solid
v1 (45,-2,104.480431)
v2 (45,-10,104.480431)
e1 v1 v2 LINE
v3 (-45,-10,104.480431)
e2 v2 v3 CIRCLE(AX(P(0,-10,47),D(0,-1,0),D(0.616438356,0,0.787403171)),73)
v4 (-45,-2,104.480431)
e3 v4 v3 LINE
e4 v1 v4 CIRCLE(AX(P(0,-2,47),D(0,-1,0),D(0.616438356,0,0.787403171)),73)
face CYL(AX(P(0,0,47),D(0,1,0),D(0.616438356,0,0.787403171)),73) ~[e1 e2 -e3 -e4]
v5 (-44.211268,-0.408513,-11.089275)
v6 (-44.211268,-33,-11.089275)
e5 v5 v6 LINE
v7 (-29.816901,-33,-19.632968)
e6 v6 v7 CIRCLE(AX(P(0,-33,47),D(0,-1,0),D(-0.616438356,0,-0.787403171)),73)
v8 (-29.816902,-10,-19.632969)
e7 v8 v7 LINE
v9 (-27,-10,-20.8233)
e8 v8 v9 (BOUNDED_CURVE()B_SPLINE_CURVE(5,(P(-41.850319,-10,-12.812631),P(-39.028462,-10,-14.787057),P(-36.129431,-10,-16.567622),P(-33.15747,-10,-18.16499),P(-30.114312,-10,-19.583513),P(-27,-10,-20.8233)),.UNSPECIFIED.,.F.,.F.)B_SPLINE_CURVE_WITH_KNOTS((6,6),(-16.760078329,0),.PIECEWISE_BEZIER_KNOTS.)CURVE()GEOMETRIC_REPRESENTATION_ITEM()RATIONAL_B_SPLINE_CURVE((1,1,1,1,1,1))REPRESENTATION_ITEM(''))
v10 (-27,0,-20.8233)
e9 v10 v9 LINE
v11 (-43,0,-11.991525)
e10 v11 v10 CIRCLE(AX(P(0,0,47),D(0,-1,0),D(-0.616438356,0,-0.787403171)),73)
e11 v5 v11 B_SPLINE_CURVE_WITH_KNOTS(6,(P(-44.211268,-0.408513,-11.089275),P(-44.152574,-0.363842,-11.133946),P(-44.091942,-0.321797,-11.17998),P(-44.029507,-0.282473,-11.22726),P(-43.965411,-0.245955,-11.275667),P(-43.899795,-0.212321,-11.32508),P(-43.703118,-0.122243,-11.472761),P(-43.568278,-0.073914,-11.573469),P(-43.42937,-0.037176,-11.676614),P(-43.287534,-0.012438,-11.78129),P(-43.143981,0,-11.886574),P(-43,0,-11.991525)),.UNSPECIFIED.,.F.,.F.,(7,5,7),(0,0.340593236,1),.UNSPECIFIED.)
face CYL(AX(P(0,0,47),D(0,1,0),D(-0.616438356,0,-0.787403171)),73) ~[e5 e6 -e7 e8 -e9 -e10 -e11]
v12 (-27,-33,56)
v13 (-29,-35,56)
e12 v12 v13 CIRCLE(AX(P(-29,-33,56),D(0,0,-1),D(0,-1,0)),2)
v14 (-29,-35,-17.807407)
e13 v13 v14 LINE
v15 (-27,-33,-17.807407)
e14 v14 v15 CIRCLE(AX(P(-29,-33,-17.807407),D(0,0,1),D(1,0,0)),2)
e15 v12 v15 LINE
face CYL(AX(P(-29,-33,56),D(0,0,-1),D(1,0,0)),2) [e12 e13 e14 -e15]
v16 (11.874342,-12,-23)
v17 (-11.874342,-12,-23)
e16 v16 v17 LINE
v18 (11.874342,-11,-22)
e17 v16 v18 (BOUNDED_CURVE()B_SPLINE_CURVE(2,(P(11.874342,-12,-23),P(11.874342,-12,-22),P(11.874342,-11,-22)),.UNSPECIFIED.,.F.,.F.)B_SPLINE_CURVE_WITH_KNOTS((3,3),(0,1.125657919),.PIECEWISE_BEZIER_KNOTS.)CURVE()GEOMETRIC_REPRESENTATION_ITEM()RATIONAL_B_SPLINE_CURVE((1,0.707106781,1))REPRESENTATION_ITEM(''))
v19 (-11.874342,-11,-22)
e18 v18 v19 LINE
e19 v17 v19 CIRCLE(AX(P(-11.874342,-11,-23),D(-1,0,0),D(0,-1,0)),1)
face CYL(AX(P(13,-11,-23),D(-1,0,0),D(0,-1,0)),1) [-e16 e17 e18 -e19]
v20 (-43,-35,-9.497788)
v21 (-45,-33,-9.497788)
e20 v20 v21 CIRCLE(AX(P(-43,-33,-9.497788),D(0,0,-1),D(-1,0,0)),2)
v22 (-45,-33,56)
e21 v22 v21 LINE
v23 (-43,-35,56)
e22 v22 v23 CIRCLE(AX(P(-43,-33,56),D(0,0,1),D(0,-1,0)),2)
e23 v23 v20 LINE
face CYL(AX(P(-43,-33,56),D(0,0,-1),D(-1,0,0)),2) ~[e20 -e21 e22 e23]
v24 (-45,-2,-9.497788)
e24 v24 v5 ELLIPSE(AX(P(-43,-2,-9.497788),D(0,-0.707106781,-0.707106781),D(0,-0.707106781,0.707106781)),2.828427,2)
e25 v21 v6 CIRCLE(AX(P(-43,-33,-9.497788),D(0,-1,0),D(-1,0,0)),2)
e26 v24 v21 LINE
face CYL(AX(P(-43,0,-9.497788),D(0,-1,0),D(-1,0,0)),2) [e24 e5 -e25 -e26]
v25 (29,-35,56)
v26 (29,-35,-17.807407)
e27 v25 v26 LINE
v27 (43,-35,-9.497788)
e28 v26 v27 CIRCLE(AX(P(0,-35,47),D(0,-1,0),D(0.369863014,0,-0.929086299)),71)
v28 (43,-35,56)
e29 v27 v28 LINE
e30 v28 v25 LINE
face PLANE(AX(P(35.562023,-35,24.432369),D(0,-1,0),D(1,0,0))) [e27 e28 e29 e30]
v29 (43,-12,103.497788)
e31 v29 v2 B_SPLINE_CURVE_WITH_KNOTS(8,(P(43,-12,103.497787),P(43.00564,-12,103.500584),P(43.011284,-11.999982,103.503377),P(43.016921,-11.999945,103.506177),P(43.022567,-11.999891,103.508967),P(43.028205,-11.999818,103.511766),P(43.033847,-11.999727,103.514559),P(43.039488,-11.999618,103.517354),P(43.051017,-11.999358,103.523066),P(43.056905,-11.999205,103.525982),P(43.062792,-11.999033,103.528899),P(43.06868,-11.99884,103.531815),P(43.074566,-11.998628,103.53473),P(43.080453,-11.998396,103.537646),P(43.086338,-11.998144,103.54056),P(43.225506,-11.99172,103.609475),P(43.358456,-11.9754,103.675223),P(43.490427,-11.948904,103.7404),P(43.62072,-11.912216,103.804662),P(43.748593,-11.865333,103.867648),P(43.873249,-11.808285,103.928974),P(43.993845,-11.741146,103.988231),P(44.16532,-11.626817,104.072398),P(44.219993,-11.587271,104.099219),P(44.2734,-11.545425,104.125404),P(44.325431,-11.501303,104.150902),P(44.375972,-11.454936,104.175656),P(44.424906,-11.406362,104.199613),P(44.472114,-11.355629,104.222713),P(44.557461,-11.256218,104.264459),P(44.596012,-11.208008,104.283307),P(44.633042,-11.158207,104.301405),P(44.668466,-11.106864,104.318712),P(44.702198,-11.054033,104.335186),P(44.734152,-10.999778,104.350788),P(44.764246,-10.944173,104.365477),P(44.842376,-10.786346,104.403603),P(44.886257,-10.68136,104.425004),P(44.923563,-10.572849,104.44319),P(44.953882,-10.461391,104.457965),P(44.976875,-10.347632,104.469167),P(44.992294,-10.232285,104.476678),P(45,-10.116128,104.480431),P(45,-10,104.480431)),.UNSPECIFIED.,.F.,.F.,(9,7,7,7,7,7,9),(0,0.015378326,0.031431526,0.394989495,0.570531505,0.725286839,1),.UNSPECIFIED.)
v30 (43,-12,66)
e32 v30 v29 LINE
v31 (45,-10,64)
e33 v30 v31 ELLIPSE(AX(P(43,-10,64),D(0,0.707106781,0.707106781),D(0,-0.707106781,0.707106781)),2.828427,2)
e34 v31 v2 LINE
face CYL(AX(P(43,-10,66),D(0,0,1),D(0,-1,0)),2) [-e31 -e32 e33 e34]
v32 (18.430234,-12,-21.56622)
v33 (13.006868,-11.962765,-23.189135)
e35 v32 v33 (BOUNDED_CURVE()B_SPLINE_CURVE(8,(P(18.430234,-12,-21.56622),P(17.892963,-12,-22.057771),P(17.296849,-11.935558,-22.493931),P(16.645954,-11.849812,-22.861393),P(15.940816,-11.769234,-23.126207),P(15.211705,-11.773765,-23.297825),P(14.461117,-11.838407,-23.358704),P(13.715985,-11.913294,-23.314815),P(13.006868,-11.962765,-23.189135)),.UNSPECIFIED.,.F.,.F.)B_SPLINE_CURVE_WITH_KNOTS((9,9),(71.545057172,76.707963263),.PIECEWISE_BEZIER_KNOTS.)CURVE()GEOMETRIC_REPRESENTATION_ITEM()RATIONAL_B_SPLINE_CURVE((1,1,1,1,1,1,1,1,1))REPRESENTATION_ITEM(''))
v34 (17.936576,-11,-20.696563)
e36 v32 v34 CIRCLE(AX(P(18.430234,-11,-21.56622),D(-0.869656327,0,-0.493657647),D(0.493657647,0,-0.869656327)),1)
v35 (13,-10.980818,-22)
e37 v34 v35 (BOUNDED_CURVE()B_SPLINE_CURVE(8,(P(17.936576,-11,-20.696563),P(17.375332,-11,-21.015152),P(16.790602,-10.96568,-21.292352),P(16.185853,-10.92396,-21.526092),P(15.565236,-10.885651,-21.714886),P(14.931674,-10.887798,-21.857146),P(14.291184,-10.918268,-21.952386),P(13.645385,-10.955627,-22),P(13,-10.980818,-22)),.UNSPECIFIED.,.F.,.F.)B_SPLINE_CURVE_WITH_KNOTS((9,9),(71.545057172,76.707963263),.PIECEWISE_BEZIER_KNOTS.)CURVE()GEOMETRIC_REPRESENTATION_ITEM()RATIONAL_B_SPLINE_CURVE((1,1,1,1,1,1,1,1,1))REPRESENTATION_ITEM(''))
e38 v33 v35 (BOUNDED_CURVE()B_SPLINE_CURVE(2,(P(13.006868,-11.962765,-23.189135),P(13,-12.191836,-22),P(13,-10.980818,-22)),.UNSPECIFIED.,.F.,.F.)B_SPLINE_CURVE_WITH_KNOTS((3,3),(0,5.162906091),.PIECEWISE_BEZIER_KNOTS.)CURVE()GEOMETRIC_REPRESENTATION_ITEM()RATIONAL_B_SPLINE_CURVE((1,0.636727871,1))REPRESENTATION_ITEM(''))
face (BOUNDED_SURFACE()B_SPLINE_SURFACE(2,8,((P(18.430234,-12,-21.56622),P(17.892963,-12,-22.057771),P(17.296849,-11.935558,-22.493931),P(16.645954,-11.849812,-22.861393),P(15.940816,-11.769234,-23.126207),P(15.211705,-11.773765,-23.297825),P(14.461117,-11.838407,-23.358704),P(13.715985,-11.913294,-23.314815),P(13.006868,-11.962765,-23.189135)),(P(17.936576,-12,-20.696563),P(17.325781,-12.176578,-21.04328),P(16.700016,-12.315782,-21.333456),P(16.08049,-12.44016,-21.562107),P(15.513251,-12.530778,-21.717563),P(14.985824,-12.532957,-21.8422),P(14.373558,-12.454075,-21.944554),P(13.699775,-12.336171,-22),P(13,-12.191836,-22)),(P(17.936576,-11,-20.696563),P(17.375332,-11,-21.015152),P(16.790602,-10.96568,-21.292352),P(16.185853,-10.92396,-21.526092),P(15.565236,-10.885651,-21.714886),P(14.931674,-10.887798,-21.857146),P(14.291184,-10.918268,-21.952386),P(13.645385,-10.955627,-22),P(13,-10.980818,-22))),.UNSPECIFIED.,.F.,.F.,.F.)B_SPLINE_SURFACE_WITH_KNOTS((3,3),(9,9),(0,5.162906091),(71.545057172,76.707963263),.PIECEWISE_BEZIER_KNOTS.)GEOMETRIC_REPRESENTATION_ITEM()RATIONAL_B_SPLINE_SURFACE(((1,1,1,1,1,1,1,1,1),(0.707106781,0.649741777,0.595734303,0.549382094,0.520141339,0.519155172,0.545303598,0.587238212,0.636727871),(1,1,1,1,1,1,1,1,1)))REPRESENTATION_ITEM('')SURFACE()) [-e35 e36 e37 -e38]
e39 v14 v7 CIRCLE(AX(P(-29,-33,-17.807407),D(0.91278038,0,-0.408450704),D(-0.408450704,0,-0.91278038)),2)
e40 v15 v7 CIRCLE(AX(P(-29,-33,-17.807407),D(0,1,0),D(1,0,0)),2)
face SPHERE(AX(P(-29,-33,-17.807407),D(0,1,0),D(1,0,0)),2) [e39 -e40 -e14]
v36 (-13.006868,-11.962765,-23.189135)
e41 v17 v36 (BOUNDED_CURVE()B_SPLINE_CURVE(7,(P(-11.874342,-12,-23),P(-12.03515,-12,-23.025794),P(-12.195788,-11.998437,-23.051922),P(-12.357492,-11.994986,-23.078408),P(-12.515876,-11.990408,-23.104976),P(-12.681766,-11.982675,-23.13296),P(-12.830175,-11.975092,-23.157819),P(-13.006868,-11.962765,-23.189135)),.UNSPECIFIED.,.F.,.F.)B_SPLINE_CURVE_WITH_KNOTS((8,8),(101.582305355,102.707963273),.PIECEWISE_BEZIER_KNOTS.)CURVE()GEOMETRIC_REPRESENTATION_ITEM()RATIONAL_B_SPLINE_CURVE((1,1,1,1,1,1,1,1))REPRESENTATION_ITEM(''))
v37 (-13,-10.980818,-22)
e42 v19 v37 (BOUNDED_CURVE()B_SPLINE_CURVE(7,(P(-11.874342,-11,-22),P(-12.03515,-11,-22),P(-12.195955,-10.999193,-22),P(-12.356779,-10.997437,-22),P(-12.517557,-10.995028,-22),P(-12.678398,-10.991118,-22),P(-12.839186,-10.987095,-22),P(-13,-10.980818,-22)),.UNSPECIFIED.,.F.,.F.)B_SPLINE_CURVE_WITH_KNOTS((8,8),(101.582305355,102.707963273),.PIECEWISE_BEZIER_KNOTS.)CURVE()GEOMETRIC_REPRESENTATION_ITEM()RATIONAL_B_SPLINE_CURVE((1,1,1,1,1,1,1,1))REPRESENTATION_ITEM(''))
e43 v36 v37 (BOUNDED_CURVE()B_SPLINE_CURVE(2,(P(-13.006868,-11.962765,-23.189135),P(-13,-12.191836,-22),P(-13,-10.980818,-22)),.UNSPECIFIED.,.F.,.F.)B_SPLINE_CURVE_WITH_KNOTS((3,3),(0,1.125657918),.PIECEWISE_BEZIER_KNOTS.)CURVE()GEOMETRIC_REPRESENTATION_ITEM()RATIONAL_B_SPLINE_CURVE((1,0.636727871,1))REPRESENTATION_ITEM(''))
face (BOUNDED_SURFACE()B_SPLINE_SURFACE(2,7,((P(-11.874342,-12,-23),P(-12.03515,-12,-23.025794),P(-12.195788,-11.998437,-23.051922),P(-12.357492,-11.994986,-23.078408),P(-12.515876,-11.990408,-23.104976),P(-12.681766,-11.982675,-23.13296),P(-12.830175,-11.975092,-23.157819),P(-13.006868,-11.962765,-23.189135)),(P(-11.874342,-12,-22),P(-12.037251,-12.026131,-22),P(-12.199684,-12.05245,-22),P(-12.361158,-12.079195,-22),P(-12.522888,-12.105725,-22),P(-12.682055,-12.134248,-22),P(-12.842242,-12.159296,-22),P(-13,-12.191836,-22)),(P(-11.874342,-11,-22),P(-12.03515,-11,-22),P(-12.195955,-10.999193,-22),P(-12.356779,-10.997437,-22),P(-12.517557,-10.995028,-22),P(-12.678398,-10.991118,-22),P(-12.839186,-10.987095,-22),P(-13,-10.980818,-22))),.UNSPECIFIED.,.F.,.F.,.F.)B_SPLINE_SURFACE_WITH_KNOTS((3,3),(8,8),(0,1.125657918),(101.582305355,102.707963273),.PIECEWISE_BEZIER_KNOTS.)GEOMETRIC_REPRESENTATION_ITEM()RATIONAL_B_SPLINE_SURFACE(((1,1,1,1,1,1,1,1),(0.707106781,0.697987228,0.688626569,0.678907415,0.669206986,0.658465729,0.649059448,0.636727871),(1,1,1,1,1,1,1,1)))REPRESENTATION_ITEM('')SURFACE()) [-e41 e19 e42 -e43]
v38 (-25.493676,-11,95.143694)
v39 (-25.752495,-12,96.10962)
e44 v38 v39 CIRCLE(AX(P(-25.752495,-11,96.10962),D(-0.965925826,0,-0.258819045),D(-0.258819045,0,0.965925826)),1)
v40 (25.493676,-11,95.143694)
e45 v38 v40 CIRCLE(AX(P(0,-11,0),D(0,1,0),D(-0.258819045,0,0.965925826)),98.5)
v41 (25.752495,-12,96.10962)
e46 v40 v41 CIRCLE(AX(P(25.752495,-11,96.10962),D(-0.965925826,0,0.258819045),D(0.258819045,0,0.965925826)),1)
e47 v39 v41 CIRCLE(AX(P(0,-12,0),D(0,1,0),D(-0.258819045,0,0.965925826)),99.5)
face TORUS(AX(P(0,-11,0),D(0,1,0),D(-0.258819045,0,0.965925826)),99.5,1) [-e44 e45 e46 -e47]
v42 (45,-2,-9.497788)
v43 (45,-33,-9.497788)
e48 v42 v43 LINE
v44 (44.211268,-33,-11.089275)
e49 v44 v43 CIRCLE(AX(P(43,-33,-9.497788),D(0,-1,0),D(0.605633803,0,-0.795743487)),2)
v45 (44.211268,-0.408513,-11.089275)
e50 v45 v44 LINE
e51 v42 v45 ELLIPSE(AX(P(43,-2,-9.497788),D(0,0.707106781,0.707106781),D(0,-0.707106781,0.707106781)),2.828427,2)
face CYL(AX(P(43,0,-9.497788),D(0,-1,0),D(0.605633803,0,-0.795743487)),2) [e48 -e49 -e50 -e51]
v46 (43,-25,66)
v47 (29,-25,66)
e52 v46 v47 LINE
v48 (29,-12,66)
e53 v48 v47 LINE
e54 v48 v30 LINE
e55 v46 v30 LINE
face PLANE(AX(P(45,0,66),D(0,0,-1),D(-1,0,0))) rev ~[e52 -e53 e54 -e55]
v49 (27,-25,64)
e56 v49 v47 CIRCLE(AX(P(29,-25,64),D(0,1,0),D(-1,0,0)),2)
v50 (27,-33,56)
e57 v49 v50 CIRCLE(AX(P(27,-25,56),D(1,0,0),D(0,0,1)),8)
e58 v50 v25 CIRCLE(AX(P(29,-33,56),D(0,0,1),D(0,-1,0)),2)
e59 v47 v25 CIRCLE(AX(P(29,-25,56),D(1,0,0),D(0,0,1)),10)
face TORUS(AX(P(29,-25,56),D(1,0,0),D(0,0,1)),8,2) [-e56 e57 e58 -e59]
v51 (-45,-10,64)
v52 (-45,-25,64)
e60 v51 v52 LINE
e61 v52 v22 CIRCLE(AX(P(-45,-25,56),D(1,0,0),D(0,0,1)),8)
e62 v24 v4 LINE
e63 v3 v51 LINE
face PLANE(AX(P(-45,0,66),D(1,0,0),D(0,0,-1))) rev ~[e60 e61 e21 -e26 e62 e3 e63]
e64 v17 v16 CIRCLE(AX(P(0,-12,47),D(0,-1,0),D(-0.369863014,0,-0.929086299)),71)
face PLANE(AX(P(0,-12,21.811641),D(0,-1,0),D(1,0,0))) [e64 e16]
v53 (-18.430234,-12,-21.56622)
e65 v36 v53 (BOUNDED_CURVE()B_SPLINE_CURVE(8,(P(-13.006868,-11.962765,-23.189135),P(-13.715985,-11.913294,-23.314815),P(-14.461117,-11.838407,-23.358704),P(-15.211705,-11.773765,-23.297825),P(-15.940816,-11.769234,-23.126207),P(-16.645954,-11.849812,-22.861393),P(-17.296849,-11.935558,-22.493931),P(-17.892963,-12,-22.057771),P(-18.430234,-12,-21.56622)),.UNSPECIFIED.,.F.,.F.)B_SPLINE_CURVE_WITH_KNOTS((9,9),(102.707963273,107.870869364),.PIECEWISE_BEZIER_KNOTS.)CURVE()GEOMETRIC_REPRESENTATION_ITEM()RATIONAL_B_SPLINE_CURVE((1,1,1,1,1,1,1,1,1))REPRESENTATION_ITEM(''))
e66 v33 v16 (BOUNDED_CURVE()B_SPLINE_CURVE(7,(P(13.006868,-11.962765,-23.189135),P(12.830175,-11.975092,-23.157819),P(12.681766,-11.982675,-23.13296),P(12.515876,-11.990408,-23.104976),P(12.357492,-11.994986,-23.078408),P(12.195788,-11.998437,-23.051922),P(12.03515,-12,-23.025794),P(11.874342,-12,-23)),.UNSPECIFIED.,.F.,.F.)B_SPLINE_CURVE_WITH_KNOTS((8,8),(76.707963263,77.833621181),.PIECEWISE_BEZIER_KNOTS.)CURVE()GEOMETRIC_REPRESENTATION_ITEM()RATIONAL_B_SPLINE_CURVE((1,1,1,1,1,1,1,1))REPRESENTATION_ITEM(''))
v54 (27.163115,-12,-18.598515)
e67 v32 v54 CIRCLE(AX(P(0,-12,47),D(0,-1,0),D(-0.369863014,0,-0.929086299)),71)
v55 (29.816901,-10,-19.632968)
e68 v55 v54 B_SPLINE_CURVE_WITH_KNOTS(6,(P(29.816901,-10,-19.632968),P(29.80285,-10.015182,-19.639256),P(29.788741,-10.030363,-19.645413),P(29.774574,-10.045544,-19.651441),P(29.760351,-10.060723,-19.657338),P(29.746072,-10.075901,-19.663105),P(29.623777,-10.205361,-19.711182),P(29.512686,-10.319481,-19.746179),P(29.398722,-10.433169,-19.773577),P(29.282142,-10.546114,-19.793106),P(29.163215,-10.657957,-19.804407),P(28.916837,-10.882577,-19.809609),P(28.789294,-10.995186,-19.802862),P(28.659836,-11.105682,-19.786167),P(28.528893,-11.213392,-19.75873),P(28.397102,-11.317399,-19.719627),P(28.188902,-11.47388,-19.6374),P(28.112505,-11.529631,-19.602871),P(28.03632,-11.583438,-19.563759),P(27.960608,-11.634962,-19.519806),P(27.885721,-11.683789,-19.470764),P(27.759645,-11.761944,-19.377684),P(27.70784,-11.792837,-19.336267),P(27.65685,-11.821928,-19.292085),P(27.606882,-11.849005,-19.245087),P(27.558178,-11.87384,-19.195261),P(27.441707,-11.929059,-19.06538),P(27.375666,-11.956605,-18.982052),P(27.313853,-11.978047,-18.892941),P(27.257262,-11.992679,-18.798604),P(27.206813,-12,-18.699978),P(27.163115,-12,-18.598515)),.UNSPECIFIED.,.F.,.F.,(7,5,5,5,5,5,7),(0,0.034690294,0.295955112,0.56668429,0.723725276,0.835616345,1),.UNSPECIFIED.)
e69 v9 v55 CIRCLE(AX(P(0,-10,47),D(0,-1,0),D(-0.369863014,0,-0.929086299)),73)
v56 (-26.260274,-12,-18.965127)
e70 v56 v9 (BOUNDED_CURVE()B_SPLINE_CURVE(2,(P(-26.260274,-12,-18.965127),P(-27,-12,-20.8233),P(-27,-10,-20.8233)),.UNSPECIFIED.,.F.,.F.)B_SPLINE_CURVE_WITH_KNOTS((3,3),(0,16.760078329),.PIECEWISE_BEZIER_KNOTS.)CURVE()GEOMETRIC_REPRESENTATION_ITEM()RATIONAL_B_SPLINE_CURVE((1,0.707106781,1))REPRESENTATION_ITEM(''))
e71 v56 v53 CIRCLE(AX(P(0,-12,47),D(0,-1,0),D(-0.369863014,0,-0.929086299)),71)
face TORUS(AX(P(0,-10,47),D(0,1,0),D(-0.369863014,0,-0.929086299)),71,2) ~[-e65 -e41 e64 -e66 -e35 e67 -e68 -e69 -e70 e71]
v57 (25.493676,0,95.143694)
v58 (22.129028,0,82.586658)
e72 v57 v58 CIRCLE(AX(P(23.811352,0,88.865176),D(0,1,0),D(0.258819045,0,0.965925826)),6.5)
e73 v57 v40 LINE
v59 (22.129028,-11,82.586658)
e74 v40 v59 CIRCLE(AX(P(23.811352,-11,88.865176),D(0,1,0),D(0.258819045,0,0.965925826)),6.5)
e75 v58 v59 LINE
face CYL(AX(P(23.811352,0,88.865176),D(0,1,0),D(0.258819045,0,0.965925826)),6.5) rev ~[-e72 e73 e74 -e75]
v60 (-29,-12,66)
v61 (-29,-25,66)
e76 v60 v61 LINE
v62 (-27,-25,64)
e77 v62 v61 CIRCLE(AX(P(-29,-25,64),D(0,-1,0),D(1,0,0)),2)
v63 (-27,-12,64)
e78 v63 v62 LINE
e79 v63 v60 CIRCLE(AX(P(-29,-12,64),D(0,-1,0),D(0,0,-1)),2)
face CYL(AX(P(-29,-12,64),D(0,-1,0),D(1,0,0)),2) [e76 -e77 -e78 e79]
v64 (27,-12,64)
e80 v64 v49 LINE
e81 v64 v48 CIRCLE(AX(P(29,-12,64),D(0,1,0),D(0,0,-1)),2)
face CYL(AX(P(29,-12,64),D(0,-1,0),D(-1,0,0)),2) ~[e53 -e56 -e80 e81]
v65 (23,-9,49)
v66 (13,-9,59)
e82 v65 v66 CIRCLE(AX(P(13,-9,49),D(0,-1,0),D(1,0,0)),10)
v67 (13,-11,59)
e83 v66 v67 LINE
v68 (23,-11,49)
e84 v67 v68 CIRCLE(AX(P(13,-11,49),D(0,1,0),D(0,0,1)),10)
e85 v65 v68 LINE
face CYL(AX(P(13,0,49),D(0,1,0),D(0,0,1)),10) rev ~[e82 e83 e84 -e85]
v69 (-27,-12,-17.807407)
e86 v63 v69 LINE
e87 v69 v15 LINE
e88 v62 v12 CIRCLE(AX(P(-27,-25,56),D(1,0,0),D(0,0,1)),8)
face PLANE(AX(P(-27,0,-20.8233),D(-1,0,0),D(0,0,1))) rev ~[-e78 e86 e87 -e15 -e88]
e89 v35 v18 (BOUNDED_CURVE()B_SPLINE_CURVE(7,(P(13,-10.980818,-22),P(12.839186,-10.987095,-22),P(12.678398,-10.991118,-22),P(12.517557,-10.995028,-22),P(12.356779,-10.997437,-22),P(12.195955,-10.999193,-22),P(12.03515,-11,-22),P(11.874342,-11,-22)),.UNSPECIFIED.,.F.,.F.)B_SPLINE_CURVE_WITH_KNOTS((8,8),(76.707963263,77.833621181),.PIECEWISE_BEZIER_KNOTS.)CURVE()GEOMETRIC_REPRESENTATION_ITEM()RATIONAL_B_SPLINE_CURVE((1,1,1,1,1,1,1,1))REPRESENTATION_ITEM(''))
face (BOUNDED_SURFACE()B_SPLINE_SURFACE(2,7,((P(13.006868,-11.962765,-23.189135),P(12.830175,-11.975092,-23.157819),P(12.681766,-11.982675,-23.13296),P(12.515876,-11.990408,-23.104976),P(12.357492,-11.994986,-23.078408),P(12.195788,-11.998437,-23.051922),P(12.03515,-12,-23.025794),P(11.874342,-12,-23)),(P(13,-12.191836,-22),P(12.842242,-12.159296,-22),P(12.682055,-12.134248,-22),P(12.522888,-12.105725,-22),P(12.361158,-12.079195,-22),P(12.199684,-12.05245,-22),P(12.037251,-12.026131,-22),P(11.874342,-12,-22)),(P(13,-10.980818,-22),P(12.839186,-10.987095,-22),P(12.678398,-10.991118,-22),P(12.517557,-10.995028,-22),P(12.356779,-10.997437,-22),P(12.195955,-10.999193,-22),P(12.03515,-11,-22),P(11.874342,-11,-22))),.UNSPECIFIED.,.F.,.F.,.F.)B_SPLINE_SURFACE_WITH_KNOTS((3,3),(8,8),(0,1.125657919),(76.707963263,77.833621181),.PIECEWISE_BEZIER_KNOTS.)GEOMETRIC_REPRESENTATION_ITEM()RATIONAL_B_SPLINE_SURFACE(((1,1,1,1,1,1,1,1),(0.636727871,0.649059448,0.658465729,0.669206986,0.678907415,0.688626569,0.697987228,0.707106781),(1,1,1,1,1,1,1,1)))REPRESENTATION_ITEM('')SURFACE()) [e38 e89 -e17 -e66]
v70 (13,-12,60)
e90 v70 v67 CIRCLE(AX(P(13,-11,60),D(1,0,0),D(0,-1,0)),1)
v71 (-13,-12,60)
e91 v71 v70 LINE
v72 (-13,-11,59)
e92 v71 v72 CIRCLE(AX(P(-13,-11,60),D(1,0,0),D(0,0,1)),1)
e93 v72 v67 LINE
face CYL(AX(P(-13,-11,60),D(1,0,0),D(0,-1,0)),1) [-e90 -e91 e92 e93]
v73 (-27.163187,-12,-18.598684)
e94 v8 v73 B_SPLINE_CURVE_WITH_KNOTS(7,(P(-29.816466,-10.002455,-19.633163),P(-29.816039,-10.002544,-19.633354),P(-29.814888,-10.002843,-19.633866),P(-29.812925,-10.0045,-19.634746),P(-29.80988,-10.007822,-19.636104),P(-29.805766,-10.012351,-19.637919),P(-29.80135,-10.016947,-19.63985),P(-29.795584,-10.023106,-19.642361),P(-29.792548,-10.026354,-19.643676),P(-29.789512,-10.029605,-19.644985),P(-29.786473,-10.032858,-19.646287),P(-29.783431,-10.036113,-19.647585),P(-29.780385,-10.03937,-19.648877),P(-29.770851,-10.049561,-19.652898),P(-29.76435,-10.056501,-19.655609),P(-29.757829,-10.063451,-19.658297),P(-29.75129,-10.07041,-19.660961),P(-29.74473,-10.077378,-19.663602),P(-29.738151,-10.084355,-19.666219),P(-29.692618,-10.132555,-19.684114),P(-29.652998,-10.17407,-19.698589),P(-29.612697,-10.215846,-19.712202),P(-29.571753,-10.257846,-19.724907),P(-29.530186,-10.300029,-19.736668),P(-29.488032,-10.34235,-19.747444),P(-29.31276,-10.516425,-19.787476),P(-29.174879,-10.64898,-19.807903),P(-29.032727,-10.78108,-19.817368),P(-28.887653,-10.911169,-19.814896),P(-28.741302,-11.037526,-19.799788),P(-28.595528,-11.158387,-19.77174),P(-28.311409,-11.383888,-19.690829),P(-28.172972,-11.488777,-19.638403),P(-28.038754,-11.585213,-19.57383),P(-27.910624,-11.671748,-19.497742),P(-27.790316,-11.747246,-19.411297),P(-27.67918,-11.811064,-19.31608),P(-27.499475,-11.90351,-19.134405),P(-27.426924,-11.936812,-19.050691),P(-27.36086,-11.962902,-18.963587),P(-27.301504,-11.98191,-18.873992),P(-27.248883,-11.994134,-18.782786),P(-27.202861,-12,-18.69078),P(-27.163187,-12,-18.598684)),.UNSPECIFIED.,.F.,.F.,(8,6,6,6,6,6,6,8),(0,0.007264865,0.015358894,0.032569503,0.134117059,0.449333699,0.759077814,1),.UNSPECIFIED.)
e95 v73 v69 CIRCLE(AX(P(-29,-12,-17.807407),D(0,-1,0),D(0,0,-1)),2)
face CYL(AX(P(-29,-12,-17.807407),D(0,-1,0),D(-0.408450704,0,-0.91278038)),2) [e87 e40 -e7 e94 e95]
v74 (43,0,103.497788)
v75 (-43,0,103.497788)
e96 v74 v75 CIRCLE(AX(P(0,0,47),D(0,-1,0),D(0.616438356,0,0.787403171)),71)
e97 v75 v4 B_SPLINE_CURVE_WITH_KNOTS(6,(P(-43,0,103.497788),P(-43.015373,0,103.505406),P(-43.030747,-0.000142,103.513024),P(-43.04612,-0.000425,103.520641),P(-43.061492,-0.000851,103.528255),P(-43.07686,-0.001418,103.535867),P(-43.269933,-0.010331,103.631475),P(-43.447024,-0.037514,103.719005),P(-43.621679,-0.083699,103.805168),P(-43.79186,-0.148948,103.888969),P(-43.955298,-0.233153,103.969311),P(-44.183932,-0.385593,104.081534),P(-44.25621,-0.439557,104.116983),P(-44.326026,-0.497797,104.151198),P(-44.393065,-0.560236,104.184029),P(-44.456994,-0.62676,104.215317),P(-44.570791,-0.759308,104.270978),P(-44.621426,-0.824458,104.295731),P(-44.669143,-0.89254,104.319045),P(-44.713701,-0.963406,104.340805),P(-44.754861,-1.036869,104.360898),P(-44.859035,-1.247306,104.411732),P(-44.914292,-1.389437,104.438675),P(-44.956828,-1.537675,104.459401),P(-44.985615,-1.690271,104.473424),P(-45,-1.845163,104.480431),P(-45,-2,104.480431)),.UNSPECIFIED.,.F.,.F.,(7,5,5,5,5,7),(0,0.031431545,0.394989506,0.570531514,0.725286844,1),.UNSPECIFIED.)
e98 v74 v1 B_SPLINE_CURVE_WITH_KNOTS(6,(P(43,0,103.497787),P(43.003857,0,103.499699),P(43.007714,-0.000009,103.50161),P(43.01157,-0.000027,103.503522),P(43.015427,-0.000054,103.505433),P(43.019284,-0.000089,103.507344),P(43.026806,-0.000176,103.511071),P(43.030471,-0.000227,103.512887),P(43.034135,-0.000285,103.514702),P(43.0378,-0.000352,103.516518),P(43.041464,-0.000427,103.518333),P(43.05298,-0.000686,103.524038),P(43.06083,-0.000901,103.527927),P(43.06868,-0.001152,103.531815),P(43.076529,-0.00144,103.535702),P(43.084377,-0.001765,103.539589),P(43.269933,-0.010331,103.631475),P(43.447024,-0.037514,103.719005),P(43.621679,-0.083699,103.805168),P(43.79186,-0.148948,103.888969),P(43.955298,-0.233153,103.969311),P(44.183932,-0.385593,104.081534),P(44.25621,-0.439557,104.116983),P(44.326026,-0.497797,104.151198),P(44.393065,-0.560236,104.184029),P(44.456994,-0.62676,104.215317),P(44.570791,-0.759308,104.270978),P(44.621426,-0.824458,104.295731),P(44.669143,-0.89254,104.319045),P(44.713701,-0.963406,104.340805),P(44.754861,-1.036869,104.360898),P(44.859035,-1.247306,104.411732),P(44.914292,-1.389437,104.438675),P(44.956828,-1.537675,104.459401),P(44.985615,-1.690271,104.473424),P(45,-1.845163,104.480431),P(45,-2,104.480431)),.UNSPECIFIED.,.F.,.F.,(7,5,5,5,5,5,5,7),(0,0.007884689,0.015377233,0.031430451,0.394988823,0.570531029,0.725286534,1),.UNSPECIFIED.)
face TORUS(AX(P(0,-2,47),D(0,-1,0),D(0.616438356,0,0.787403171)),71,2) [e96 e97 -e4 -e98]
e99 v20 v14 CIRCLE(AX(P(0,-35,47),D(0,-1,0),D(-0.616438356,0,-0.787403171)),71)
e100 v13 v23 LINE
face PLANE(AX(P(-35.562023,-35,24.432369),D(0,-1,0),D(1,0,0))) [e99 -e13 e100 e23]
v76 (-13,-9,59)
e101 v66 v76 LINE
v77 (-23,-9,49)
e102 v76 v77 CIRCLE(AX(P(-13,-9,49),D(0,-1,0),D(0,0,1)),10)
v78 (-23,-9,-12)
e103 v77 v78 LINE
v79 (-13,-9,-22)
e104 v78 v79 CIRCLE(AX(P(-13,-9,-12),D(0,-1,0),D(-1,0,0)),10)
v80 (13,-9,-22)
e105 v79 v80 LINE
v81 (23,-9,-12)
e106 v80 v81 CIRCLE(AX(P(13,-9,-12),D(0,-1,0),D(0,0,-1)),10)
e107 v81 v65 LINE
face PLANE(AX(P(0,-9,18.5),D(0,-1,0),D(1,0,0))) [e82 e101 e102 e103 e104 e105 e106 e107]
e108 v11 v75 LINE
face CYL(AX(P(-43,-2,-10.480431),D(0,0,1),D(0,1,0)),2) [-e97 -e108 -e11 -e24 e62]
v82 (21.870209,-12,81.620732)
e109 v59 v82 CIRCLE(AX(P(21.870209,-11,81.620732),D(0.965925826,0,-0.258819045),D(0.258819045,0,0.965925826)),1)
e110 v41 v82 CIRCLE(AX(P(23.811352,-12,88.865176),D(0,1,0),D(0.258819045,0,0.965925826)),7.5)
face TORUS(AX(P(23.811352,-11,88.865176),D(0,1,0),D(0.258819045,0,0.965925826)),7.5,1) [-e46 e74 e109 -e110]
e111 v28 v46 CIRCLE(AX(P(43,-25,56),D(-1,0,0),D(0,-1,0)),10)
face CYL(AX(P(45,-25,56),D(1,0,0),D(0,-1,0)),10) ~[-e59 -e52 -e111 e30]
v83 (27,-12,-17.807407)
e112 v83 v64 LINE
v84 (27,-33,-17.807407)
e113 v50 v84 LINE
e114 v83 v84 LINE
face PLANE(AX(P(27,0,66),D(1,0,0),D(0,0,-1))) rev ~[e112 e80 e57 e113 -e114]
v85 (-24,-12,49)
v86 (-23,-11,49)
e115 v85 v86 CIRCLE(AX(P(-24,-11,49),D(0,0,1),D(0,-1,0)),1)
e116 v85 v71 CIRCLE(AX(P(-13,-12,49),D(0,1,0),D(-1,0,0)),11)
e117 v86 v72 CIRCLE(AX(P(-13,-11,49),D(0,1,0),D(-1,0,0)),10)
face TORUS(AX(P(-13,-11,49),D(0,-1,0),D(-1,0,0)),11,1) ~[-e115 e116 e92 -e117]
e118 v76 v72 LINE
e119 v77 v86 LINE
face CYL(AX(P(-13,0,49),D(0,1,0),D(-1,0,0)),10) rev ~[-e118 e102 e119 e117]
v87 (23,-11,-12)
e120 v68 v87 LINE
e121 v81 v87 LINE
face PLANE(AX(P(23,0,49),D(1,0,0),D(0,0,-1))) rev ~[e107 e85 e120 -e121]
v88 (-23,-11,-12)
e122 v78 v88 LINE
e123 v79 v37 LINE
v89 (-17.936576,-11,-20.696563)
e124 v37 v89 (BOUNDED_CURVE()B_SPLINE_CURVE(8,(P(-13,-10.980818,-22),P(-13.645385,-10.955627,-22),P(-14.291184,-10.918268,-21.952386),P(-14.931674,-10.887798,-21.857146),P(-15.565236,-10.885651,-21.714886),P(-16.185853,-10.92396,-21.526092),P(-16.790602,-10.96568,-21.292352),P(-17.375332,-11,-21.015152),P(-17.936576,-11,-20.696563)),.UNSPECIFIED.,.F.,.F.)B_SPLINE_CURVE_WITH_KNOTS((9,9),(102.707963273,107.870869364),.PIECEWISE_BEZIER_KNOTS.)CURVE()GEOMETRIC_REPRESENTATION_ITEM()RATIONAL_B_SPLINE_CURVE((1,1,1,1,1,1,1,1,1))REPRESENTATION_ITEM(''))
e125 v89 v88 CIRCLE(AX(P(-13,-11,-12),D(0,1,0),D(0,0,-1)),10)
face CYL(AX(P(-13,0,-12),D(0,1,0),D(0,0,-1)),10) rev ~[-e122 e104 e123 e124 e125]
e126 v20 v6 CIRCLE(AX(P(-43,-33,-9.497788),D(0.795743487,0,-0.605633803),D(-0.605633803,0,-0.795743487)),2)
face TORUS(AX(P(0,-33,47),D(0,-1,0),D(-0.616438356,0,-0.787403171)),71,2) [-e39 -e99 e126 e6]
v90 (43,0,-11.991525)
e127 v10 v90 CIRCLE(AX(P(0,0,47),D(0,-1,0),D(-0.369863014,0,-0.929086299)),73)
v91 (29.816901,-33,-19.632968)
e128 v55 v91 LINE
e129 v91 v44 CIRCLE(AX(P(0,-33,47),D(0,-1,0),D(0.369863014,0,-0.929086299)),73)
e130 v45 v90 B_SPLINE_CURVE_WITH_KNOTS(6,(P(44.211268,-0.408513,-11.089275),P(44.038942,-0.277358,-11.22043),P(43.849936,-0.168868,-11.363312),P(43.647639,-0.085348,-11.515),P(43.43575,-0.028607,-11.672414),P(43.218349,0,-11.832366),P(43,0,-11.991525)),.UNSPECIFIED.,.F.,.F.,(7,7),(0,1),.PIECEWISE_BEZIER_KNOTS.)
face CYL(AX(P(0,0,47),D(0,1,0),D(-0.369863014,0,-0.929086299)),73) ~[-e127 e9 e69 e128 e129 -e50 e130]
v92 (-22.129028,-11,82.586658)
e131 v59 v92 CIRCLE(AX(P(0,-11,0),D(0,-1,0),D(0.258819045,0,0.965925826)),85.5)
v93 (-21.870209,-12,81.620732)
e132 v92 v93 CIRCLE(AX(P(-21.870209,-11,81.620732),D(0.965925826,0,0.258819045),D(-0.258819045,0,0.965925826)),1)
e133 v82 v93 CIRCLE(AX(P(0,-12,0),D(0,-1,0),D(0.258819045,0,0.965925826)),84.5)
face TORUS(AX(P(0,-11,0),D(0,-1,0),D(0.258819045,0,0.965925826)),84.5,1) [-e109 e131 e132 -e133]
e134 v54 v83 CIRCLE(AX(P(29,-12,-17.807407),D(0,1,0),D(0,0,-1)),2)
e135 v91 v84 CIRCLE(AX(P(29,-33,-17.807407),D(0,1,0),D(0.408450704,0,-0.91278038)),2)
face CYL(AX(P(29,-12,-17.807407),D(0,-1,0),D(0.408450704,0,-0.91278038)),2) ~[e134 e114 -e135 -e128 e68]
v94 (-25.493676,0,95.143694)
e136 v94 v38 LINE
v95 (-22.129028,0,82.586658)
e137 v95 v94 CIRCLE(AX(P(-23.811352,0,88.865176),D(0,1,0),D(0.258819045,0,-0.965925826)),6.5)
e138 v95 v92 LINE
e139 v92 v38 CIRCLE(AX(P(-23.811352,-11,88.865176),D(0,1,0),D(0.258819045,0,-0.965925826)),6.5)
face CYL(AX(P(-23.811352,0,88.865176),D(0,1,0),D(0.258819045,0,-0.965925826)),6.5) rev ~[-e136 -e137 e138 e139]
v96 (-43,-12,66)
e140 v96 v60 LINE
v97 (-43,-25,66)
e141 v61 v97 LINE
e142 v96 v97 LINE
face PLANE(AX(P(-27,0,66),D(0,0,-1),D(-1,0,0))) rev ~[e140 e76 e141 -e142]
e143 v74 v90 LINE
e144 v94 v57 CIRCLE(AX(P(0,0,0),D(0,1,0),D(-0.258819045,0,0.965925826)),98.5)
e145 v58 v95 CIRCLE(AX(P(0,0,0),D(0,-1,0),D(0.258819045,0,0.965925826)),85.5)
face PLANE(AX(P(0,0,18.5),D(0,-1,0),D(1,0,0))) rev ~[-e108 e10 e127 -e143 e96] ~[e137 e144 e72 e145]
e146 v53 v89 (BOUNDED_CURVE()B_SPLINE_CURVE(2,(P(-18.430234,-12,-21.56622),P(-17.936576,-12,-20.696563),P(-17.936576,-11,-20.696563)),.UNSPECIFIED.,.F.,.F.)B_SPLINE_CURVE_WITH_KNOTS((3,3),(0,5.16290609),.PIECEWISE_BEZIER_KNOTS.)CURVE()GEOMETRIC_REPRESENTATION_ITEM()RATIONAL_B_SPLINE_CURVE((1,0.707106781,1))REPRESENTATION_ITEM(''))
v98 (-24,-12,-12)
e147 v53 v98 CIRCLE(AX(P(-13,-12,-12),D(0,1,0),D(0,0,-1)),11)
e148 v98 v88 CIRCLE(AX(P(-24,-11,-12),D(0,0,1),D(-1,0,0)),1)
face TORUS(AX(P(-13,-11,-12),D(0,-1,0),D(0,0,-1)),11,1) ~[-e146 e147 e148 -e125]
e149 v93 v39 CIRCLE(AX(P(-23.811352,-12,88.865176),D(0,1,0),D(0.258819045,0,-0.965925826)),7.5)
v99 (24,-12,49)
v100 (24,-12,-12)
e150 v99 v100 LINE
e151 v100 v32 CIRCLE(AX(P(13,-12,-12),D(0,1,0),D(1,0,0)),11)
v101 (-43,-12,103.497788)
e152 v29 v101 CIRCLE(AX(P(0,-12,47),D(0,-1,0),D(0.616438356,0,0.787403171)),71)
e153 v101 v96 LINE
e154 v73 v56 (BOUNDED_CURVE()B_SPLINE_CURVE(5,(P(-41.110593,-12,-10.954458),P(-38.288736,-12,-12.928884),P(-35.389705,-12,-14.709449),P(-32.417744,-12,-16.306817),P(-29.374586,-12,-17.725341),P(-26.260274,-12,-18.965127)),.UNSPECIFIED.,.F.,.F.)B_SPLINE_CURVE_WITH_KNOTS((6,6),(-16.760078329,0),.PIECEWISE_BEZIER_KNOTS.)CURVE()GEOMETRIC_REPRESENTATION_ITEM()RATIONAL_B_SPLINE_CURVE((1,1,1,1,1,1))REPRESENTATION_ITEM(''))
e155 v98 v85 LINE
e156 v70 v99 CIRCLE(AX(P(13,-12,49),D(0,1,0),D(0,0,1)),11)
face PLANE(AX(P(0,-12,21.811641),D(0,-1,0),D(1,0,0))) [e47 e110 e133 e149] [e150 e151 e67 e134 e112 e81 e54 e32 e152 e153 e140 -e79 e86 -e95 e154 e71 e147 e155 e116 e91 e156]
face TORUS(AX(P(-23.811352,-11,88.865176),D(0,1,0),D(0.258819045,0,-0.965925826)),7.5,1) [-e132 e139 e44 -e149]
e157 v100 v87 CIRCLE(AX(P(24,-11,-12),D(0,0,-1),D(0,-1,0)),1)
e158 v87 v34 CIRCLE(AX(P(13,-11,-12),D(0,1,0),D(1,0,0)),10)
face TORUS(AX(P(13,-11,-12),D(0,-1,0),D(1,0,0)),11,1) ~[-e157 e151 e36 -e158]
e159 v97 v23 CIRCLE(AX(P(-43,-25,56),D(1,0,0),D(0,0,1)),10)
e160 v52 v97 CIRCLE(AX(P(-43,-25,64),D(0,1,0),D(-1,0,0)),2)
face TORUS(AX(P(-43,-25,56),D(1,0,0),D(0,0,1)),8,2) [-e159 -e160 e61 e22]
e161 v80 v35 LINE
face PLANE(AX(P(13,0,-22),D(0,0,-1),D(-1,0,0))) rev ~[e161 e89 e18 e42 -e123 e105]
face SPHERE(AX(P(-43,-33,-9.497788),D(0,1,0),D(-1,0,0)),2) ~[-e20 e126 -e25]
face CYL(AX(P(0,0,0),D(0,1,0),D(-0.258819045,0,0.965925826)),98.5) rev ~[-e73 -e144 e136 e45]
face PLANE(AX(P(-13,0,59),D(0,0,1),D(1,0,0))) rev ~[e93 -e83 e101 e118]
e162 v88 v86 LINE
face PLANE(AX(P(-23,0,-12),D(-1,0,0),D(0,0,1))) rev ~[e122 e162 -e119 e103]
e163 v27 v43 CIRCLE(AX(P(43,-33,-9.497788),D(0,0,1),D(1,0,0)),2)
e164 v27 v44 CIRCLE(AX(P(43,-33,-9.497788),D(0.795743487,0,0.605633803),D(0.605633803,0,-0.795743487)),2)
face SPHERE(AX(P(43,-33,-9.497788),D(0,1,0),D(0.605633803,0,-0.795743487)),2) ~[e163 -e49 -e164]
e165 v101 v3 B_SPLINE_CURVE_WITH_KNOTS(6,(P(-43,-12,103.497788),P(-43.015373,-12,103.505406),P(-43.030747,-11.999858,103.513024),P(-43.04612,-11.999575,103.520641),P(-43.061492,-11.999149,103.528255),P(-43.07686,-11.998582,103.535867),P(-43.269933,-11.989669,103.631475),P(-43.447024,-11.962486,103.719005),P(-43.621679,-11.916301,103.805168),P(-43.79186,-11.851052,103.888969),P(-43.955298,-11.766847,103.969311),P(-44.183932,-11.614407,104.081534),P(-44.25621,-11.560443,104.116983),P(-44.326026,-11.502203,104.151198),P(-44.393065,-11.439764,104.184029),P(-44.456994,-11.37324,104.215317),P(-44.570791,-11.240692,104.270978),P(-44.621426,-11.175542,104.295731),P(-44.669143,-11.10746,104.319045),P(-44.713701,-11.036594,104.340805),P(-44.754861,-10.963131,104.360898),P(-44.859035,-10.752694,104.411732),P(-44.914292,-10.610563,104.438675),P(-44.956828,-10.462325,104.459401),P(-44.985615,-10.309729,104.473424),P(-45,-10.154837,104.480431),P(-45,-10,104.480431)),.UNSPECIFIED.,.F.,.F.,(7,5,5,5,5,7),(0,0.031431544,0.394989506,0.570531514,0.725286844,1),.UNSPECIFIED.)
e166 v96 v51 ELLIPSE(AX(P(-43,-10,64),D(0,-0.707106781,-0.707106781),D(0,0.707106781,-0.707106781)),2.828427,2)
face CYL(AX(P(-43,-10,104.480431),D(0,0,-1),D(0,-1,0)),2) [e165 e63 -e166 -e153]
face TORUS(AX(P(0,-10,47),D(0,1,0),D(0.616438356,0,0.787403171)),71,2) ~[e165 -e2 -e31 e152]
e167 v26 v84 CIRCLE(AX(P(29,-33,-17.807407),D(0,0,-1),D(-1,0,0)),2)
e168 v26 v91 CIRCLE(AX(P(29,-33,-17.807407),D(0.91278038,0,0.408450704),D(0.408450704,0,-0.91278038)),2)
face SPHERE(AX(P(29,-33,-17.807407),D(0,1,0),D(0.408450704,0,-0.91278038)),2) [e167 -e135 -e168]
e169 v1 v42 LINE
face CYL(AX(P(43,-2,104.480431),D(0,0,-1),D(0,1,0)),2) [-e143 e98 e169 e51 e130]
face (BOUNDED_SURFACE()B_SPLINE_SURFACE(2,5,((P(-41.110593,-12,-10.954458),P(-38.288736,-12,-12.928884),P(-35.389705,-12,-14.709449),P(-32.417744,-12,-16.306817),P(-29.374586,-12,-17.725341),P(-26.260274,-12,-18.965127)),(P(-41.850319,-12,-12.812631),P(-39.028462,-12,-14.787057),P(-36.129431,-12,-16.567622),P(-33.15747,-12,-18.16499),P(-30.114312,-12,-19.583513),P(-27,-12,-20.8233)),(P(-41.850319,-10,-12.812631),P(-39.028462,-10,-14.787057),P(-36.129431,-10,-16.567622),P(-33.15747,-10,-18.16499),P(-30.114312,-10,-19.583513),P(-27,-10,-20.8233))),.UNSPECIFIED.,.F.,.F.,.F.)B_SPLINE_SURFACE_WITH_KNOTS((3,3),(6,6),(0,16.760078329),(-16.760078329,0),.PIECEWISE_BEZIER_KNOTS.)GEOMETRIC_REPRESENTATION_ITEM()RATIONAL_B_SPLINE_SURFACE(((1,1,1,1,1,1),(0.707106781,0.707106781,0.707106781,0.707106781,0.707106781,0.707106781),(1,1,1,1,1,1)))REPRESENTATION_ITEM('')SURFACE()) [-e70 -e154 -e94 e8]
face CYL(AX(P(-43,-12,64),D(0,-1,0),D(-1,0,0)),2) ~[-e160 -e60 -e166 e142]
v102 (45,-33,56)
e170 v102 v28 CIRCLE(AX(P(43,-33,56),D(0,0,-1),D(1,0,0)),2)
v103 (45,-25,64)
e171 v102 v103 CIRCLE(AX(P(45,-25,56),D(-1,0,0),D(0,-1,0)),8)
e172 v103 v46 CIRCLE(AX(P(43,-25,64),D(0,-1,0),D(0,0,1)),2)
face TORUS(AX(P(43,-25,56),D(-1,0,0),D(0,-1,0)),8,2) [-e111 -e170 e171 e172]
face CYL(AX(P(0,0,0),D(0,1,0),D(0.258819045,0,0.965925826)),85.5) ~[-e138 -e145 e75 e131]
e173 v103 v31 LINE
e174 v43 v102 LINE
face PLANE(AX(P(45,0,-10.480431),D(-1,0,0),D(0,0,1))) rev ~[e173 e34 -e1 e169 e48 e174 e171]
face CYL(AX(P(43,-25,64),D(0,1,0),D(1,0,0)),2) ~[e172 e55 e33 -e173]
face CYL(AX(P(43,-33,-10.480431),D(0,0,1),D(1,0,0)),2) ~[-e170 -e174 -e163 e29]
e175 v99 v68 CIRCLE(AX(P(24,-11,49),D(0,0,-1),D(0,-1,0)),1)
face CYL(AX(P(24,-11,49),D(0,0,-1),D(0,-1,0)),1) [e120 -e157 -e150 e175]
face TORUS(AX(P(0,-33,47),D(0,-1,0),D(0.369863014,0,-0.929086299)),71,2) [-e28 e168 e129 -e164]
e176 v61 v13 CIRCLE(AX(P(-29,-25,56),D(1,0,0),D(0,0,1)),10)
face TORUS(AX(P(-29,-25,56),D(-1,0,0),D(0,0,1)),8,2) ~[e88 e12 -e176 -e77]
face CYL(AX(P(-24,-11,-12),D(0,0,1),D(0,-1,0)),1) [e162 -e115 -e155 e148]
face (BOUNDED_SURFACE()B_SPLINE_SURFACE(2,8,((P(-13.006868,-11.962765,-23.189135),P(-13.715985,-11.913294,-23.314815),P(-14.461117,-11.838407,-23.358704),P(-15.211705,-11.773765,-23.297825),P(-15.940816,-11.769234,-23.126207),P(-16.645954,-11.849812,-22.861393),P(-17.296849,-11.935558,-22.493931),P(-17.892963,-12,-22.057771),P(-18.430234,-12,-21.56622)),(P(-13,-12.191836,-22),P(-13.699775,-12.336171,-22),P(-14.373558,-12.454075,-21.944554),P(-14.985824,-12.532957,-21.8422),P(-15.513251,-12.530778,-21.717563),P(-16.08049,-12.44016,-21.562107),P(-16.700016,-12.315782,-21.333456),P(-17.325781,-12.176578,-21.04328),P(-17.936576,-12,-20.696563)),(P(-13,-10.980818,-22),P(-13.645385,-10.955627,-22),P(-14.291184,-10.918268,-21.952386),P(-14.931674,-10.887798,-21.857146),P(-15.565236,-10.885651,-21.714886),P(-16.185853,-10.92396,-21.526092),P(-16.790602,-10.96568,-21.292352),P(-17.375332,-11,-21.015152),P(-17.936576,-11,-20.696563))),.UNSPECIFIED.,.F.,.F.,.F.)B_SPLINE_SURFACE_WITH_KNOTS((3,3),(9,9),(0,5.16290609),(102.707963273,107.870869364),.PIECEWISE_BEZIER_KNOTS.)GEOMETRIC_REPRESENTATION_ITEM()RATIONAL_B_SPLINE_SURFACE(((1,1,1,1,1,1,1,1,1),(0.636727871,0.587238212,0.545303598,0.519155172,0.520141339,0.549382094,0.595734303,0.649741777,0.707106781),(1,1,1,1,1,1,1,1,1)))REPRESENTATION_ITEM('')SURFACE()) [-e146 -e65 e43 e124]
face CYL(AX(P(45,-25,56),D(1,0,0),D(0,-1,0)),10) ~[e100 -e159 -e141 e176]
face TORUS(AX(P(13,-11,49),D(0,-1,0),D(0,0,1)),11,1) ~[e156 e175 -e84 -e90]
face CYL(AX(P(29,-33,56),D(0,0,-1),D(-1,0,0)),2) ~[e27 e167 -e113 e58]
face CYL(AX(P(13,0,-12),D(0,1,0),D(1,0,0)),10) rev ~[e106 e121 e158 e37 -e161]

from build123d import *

# Parameters (mm, degrees)
F1_DEPTH = 35
F2_DEPTH = 12
F3_DEPTH = 9
F4_R     = 1
F6_DEPTH = 90.001
F7_R     = 2
F8_R     = 1


with BuildPart() as f1:
    # F0 (on Front) → F1 (new body)
    with BuildSketch(Plane.XZ):
        with BuildLine():
            Line((-27, -20.8232998313), (-27, 66))
            Line((-27, 66), (-45, 66))
            Line((-45, 66), (-45, -10.4804314528))
            ThreePointArc((-45, -10.4804314528), (-36.3695440111, -16.2949940234), (-27, -20.8232998313))
        make_face()
    extrude(amount=F1_DEPTH)



with BuildPart() as f1b:
    # F0 (on Front) → F1, piece 2 (new body)
    with BuildSketch(Plane.XZ):
        with BuildLine():
            Line((45, 66), (27, 66))
            Line((27, 66), (27, -20.8232998313))
            ThreePointArc((27, -20.8232998313), (36.3695440111, -16.2949940234), (45, -10.4804314528))
            Line((45, -10.4804314528), (45, 66))
        make_face()
    extrude(amount=F1_DEPTH)


with BuildPart() as f1_1:
    add(f1.part)

    add(f1b.part)  # F2 merges F1b
    # F0 (on Front) → F2 (join)
    with BuildSketch(Plane.XZ):
        with BuildLine():
            Line((27, 66), (-27, 66))
            Line((-27, 66), (-27, -20.8232998313))
            ThreePointArc((-27, -20.8232998313), (-13.745892245, -24.6941451333), (1.888e-07, -26))
            ThreePointArc((1.888e-07, -26), (13.7458924304, -24.6941450977), (27, -20.8232998313))
            Line((27, -20.8232998313), (27, 66))
        make_face()
        with BuildLine():
            ThreePointArc((-23, 49), (-20.0710678119, 56.0710678119), (-13, 59))
            Line((-13, 59), (13, 59))
            ThreePointArc((13, 59), (20.0710678119, 56.0710678119), (23, 49))
            Line((23, 49), (23, -12))
            ThreePointArc((23, -12), (20.0710678119, -19.0710678119), (13, -22))
            Line((13, -22), (-13, -22))
            ThreePointArc((-13, -22), (-20.0710678119, -19.0710678119), (-23, -12))
            Line((-23, -12), (-23, 49))
        make_face(mode=Mode.SUBTRACT)
        with BuildLine():
            Line((-45, 66), (-27, 66))
            Line((-27, 66), (27, 66))
            Line((27, 66), (45, 66))
            Line((45, 66), (45, 104.4804314528))
            ThreePointArc((45, 104.4804314528), (0, 120), (-45, 104.4804314528))
            Line((-45, 104.4804314528), (-45, 66))
        make_face()
        with BuildLine():
            ThreePointArc((-22.1290283563, 82.5866581477), (-30.0898700203, 87.1828522254), (-25.4936759426, 95.1436938895))
            ThreePointArc((-25.4936759426, 95.1436938895), (0, 98.5), (25.4936759426, 95.1436938895))
            ThreePointArc((25.4936759426, 95.1436938895), (30.0898700203, 87.1828522254), (22.1290283563, 82.5866581477))
            ThreePointArc((22.1290283563, 82.5866581477), (0, 85.5), (-22.1290283563, 82.5866581477))
        make_face(mode=Mode.SUBTRACT)
    extrude(amount=F2_DEPTH)

    # F0 (on Front) → F3 (join)
    with BuildSketch(Plane.XZ):
        with BuildLine():
            Line((13, 59), (-13, 59))
            ThreePointArc((-13, 59), (-20.0710678119, 56.0710678119), (-23, 49))
            Line((-23, 49), (-23, -12))
            ThreePointArc((-23, -12), (-20.0710678119, -19.0710678119), (-13, -22))
            Line((-13, -22), (13, -22))
            ThreePointArc((13, -22), (20.0710678119, -19.0710678119), (23, -12))
            Line((23, -12), (23, 49))
            ThreePointArc((23, 49), (20.0710678119, 56.0710678119), (13, 59))
        make_face()
    extrude(amount=F3_DEPTH)

    # F4
    f4_edges = [f1_1.edges().sort_by_distance(p)[0] for p in [
        (0, -12, 85.5),
        (-30.08987, -12, 87.182852),
        (30.08987, -12, 87.182852),
        (0, -12, 98.5),
    ]]
    fillet(f4_edges, radius=F4_R)

    # F5 (on face) → F6 (cut, through all)
    with BuildSketch(Plane.YZ.offset(45)):
        with BuildLine():
            ThreePointArc((-35, 56), (-32.0710678119, 63.0710678119), (-25, 66))
            Line((-25, 66), (-35, 66))
            Line((-35, 66), (-35, 56))
        make_face()
    extrude(amount=-F6_DEPTH, mode=Mode.SUBTRACT)

    # F7
    f7_edges = [f1_1.edges().sort_by_distance(p)[0] for p in [
        (45, -12, 85.240216),
        (0, -12, 120),
        (-45, -12, 85.240216),
        (45, -32.071068, 63.071068),
        (45, -18.5, 66),
        (45, -35, 22.759784),
        (45, -17.5, -10.480431),
        (45, 0, 47),
        (0, 0, 120),
        (-45, 0, 47),
        (-45, -17.5, -10.480431),
        (-45, -35, 22.759784),
        (-45, -32.071068, 63.071068),
        (-45, -18.5, 66),
        (-36.369544, -35, -16.294994),
        (-27, -23.5, -20.8233),
        (0, -12, -26),
        (27, -23.5, -20.8233),
        (36.369544, -35, -16.294994),
        (27, -35, 17.58835),
        (27, -32.071068, 63.071068),
        (27, -18.5, 66),
        (-27, -18.5, 66),
        (-27, -32.071068, 63.071068),
        (-27, -35, 17.58835),
    ]]
    fillet(f7_edges, radius=F7_R)

    # F8
    f8_edges = [f1_1.edges().sort_by_distance(p)[0] for p in [
        (23, -12, 18.5),
        (-20.071068, -12, 56.071068),
        (-23, -12, 18.5),
        (-20.071068, -12, -19.071068),
        (0, -12, -22),
        (20.071068, -12, -19.071068),
        (20.071068, -12, 56.071068),
        (0, -12, 59),
    ]]
    fillet(f8_edges, radius=F8_R)


solid = f1_1.part
